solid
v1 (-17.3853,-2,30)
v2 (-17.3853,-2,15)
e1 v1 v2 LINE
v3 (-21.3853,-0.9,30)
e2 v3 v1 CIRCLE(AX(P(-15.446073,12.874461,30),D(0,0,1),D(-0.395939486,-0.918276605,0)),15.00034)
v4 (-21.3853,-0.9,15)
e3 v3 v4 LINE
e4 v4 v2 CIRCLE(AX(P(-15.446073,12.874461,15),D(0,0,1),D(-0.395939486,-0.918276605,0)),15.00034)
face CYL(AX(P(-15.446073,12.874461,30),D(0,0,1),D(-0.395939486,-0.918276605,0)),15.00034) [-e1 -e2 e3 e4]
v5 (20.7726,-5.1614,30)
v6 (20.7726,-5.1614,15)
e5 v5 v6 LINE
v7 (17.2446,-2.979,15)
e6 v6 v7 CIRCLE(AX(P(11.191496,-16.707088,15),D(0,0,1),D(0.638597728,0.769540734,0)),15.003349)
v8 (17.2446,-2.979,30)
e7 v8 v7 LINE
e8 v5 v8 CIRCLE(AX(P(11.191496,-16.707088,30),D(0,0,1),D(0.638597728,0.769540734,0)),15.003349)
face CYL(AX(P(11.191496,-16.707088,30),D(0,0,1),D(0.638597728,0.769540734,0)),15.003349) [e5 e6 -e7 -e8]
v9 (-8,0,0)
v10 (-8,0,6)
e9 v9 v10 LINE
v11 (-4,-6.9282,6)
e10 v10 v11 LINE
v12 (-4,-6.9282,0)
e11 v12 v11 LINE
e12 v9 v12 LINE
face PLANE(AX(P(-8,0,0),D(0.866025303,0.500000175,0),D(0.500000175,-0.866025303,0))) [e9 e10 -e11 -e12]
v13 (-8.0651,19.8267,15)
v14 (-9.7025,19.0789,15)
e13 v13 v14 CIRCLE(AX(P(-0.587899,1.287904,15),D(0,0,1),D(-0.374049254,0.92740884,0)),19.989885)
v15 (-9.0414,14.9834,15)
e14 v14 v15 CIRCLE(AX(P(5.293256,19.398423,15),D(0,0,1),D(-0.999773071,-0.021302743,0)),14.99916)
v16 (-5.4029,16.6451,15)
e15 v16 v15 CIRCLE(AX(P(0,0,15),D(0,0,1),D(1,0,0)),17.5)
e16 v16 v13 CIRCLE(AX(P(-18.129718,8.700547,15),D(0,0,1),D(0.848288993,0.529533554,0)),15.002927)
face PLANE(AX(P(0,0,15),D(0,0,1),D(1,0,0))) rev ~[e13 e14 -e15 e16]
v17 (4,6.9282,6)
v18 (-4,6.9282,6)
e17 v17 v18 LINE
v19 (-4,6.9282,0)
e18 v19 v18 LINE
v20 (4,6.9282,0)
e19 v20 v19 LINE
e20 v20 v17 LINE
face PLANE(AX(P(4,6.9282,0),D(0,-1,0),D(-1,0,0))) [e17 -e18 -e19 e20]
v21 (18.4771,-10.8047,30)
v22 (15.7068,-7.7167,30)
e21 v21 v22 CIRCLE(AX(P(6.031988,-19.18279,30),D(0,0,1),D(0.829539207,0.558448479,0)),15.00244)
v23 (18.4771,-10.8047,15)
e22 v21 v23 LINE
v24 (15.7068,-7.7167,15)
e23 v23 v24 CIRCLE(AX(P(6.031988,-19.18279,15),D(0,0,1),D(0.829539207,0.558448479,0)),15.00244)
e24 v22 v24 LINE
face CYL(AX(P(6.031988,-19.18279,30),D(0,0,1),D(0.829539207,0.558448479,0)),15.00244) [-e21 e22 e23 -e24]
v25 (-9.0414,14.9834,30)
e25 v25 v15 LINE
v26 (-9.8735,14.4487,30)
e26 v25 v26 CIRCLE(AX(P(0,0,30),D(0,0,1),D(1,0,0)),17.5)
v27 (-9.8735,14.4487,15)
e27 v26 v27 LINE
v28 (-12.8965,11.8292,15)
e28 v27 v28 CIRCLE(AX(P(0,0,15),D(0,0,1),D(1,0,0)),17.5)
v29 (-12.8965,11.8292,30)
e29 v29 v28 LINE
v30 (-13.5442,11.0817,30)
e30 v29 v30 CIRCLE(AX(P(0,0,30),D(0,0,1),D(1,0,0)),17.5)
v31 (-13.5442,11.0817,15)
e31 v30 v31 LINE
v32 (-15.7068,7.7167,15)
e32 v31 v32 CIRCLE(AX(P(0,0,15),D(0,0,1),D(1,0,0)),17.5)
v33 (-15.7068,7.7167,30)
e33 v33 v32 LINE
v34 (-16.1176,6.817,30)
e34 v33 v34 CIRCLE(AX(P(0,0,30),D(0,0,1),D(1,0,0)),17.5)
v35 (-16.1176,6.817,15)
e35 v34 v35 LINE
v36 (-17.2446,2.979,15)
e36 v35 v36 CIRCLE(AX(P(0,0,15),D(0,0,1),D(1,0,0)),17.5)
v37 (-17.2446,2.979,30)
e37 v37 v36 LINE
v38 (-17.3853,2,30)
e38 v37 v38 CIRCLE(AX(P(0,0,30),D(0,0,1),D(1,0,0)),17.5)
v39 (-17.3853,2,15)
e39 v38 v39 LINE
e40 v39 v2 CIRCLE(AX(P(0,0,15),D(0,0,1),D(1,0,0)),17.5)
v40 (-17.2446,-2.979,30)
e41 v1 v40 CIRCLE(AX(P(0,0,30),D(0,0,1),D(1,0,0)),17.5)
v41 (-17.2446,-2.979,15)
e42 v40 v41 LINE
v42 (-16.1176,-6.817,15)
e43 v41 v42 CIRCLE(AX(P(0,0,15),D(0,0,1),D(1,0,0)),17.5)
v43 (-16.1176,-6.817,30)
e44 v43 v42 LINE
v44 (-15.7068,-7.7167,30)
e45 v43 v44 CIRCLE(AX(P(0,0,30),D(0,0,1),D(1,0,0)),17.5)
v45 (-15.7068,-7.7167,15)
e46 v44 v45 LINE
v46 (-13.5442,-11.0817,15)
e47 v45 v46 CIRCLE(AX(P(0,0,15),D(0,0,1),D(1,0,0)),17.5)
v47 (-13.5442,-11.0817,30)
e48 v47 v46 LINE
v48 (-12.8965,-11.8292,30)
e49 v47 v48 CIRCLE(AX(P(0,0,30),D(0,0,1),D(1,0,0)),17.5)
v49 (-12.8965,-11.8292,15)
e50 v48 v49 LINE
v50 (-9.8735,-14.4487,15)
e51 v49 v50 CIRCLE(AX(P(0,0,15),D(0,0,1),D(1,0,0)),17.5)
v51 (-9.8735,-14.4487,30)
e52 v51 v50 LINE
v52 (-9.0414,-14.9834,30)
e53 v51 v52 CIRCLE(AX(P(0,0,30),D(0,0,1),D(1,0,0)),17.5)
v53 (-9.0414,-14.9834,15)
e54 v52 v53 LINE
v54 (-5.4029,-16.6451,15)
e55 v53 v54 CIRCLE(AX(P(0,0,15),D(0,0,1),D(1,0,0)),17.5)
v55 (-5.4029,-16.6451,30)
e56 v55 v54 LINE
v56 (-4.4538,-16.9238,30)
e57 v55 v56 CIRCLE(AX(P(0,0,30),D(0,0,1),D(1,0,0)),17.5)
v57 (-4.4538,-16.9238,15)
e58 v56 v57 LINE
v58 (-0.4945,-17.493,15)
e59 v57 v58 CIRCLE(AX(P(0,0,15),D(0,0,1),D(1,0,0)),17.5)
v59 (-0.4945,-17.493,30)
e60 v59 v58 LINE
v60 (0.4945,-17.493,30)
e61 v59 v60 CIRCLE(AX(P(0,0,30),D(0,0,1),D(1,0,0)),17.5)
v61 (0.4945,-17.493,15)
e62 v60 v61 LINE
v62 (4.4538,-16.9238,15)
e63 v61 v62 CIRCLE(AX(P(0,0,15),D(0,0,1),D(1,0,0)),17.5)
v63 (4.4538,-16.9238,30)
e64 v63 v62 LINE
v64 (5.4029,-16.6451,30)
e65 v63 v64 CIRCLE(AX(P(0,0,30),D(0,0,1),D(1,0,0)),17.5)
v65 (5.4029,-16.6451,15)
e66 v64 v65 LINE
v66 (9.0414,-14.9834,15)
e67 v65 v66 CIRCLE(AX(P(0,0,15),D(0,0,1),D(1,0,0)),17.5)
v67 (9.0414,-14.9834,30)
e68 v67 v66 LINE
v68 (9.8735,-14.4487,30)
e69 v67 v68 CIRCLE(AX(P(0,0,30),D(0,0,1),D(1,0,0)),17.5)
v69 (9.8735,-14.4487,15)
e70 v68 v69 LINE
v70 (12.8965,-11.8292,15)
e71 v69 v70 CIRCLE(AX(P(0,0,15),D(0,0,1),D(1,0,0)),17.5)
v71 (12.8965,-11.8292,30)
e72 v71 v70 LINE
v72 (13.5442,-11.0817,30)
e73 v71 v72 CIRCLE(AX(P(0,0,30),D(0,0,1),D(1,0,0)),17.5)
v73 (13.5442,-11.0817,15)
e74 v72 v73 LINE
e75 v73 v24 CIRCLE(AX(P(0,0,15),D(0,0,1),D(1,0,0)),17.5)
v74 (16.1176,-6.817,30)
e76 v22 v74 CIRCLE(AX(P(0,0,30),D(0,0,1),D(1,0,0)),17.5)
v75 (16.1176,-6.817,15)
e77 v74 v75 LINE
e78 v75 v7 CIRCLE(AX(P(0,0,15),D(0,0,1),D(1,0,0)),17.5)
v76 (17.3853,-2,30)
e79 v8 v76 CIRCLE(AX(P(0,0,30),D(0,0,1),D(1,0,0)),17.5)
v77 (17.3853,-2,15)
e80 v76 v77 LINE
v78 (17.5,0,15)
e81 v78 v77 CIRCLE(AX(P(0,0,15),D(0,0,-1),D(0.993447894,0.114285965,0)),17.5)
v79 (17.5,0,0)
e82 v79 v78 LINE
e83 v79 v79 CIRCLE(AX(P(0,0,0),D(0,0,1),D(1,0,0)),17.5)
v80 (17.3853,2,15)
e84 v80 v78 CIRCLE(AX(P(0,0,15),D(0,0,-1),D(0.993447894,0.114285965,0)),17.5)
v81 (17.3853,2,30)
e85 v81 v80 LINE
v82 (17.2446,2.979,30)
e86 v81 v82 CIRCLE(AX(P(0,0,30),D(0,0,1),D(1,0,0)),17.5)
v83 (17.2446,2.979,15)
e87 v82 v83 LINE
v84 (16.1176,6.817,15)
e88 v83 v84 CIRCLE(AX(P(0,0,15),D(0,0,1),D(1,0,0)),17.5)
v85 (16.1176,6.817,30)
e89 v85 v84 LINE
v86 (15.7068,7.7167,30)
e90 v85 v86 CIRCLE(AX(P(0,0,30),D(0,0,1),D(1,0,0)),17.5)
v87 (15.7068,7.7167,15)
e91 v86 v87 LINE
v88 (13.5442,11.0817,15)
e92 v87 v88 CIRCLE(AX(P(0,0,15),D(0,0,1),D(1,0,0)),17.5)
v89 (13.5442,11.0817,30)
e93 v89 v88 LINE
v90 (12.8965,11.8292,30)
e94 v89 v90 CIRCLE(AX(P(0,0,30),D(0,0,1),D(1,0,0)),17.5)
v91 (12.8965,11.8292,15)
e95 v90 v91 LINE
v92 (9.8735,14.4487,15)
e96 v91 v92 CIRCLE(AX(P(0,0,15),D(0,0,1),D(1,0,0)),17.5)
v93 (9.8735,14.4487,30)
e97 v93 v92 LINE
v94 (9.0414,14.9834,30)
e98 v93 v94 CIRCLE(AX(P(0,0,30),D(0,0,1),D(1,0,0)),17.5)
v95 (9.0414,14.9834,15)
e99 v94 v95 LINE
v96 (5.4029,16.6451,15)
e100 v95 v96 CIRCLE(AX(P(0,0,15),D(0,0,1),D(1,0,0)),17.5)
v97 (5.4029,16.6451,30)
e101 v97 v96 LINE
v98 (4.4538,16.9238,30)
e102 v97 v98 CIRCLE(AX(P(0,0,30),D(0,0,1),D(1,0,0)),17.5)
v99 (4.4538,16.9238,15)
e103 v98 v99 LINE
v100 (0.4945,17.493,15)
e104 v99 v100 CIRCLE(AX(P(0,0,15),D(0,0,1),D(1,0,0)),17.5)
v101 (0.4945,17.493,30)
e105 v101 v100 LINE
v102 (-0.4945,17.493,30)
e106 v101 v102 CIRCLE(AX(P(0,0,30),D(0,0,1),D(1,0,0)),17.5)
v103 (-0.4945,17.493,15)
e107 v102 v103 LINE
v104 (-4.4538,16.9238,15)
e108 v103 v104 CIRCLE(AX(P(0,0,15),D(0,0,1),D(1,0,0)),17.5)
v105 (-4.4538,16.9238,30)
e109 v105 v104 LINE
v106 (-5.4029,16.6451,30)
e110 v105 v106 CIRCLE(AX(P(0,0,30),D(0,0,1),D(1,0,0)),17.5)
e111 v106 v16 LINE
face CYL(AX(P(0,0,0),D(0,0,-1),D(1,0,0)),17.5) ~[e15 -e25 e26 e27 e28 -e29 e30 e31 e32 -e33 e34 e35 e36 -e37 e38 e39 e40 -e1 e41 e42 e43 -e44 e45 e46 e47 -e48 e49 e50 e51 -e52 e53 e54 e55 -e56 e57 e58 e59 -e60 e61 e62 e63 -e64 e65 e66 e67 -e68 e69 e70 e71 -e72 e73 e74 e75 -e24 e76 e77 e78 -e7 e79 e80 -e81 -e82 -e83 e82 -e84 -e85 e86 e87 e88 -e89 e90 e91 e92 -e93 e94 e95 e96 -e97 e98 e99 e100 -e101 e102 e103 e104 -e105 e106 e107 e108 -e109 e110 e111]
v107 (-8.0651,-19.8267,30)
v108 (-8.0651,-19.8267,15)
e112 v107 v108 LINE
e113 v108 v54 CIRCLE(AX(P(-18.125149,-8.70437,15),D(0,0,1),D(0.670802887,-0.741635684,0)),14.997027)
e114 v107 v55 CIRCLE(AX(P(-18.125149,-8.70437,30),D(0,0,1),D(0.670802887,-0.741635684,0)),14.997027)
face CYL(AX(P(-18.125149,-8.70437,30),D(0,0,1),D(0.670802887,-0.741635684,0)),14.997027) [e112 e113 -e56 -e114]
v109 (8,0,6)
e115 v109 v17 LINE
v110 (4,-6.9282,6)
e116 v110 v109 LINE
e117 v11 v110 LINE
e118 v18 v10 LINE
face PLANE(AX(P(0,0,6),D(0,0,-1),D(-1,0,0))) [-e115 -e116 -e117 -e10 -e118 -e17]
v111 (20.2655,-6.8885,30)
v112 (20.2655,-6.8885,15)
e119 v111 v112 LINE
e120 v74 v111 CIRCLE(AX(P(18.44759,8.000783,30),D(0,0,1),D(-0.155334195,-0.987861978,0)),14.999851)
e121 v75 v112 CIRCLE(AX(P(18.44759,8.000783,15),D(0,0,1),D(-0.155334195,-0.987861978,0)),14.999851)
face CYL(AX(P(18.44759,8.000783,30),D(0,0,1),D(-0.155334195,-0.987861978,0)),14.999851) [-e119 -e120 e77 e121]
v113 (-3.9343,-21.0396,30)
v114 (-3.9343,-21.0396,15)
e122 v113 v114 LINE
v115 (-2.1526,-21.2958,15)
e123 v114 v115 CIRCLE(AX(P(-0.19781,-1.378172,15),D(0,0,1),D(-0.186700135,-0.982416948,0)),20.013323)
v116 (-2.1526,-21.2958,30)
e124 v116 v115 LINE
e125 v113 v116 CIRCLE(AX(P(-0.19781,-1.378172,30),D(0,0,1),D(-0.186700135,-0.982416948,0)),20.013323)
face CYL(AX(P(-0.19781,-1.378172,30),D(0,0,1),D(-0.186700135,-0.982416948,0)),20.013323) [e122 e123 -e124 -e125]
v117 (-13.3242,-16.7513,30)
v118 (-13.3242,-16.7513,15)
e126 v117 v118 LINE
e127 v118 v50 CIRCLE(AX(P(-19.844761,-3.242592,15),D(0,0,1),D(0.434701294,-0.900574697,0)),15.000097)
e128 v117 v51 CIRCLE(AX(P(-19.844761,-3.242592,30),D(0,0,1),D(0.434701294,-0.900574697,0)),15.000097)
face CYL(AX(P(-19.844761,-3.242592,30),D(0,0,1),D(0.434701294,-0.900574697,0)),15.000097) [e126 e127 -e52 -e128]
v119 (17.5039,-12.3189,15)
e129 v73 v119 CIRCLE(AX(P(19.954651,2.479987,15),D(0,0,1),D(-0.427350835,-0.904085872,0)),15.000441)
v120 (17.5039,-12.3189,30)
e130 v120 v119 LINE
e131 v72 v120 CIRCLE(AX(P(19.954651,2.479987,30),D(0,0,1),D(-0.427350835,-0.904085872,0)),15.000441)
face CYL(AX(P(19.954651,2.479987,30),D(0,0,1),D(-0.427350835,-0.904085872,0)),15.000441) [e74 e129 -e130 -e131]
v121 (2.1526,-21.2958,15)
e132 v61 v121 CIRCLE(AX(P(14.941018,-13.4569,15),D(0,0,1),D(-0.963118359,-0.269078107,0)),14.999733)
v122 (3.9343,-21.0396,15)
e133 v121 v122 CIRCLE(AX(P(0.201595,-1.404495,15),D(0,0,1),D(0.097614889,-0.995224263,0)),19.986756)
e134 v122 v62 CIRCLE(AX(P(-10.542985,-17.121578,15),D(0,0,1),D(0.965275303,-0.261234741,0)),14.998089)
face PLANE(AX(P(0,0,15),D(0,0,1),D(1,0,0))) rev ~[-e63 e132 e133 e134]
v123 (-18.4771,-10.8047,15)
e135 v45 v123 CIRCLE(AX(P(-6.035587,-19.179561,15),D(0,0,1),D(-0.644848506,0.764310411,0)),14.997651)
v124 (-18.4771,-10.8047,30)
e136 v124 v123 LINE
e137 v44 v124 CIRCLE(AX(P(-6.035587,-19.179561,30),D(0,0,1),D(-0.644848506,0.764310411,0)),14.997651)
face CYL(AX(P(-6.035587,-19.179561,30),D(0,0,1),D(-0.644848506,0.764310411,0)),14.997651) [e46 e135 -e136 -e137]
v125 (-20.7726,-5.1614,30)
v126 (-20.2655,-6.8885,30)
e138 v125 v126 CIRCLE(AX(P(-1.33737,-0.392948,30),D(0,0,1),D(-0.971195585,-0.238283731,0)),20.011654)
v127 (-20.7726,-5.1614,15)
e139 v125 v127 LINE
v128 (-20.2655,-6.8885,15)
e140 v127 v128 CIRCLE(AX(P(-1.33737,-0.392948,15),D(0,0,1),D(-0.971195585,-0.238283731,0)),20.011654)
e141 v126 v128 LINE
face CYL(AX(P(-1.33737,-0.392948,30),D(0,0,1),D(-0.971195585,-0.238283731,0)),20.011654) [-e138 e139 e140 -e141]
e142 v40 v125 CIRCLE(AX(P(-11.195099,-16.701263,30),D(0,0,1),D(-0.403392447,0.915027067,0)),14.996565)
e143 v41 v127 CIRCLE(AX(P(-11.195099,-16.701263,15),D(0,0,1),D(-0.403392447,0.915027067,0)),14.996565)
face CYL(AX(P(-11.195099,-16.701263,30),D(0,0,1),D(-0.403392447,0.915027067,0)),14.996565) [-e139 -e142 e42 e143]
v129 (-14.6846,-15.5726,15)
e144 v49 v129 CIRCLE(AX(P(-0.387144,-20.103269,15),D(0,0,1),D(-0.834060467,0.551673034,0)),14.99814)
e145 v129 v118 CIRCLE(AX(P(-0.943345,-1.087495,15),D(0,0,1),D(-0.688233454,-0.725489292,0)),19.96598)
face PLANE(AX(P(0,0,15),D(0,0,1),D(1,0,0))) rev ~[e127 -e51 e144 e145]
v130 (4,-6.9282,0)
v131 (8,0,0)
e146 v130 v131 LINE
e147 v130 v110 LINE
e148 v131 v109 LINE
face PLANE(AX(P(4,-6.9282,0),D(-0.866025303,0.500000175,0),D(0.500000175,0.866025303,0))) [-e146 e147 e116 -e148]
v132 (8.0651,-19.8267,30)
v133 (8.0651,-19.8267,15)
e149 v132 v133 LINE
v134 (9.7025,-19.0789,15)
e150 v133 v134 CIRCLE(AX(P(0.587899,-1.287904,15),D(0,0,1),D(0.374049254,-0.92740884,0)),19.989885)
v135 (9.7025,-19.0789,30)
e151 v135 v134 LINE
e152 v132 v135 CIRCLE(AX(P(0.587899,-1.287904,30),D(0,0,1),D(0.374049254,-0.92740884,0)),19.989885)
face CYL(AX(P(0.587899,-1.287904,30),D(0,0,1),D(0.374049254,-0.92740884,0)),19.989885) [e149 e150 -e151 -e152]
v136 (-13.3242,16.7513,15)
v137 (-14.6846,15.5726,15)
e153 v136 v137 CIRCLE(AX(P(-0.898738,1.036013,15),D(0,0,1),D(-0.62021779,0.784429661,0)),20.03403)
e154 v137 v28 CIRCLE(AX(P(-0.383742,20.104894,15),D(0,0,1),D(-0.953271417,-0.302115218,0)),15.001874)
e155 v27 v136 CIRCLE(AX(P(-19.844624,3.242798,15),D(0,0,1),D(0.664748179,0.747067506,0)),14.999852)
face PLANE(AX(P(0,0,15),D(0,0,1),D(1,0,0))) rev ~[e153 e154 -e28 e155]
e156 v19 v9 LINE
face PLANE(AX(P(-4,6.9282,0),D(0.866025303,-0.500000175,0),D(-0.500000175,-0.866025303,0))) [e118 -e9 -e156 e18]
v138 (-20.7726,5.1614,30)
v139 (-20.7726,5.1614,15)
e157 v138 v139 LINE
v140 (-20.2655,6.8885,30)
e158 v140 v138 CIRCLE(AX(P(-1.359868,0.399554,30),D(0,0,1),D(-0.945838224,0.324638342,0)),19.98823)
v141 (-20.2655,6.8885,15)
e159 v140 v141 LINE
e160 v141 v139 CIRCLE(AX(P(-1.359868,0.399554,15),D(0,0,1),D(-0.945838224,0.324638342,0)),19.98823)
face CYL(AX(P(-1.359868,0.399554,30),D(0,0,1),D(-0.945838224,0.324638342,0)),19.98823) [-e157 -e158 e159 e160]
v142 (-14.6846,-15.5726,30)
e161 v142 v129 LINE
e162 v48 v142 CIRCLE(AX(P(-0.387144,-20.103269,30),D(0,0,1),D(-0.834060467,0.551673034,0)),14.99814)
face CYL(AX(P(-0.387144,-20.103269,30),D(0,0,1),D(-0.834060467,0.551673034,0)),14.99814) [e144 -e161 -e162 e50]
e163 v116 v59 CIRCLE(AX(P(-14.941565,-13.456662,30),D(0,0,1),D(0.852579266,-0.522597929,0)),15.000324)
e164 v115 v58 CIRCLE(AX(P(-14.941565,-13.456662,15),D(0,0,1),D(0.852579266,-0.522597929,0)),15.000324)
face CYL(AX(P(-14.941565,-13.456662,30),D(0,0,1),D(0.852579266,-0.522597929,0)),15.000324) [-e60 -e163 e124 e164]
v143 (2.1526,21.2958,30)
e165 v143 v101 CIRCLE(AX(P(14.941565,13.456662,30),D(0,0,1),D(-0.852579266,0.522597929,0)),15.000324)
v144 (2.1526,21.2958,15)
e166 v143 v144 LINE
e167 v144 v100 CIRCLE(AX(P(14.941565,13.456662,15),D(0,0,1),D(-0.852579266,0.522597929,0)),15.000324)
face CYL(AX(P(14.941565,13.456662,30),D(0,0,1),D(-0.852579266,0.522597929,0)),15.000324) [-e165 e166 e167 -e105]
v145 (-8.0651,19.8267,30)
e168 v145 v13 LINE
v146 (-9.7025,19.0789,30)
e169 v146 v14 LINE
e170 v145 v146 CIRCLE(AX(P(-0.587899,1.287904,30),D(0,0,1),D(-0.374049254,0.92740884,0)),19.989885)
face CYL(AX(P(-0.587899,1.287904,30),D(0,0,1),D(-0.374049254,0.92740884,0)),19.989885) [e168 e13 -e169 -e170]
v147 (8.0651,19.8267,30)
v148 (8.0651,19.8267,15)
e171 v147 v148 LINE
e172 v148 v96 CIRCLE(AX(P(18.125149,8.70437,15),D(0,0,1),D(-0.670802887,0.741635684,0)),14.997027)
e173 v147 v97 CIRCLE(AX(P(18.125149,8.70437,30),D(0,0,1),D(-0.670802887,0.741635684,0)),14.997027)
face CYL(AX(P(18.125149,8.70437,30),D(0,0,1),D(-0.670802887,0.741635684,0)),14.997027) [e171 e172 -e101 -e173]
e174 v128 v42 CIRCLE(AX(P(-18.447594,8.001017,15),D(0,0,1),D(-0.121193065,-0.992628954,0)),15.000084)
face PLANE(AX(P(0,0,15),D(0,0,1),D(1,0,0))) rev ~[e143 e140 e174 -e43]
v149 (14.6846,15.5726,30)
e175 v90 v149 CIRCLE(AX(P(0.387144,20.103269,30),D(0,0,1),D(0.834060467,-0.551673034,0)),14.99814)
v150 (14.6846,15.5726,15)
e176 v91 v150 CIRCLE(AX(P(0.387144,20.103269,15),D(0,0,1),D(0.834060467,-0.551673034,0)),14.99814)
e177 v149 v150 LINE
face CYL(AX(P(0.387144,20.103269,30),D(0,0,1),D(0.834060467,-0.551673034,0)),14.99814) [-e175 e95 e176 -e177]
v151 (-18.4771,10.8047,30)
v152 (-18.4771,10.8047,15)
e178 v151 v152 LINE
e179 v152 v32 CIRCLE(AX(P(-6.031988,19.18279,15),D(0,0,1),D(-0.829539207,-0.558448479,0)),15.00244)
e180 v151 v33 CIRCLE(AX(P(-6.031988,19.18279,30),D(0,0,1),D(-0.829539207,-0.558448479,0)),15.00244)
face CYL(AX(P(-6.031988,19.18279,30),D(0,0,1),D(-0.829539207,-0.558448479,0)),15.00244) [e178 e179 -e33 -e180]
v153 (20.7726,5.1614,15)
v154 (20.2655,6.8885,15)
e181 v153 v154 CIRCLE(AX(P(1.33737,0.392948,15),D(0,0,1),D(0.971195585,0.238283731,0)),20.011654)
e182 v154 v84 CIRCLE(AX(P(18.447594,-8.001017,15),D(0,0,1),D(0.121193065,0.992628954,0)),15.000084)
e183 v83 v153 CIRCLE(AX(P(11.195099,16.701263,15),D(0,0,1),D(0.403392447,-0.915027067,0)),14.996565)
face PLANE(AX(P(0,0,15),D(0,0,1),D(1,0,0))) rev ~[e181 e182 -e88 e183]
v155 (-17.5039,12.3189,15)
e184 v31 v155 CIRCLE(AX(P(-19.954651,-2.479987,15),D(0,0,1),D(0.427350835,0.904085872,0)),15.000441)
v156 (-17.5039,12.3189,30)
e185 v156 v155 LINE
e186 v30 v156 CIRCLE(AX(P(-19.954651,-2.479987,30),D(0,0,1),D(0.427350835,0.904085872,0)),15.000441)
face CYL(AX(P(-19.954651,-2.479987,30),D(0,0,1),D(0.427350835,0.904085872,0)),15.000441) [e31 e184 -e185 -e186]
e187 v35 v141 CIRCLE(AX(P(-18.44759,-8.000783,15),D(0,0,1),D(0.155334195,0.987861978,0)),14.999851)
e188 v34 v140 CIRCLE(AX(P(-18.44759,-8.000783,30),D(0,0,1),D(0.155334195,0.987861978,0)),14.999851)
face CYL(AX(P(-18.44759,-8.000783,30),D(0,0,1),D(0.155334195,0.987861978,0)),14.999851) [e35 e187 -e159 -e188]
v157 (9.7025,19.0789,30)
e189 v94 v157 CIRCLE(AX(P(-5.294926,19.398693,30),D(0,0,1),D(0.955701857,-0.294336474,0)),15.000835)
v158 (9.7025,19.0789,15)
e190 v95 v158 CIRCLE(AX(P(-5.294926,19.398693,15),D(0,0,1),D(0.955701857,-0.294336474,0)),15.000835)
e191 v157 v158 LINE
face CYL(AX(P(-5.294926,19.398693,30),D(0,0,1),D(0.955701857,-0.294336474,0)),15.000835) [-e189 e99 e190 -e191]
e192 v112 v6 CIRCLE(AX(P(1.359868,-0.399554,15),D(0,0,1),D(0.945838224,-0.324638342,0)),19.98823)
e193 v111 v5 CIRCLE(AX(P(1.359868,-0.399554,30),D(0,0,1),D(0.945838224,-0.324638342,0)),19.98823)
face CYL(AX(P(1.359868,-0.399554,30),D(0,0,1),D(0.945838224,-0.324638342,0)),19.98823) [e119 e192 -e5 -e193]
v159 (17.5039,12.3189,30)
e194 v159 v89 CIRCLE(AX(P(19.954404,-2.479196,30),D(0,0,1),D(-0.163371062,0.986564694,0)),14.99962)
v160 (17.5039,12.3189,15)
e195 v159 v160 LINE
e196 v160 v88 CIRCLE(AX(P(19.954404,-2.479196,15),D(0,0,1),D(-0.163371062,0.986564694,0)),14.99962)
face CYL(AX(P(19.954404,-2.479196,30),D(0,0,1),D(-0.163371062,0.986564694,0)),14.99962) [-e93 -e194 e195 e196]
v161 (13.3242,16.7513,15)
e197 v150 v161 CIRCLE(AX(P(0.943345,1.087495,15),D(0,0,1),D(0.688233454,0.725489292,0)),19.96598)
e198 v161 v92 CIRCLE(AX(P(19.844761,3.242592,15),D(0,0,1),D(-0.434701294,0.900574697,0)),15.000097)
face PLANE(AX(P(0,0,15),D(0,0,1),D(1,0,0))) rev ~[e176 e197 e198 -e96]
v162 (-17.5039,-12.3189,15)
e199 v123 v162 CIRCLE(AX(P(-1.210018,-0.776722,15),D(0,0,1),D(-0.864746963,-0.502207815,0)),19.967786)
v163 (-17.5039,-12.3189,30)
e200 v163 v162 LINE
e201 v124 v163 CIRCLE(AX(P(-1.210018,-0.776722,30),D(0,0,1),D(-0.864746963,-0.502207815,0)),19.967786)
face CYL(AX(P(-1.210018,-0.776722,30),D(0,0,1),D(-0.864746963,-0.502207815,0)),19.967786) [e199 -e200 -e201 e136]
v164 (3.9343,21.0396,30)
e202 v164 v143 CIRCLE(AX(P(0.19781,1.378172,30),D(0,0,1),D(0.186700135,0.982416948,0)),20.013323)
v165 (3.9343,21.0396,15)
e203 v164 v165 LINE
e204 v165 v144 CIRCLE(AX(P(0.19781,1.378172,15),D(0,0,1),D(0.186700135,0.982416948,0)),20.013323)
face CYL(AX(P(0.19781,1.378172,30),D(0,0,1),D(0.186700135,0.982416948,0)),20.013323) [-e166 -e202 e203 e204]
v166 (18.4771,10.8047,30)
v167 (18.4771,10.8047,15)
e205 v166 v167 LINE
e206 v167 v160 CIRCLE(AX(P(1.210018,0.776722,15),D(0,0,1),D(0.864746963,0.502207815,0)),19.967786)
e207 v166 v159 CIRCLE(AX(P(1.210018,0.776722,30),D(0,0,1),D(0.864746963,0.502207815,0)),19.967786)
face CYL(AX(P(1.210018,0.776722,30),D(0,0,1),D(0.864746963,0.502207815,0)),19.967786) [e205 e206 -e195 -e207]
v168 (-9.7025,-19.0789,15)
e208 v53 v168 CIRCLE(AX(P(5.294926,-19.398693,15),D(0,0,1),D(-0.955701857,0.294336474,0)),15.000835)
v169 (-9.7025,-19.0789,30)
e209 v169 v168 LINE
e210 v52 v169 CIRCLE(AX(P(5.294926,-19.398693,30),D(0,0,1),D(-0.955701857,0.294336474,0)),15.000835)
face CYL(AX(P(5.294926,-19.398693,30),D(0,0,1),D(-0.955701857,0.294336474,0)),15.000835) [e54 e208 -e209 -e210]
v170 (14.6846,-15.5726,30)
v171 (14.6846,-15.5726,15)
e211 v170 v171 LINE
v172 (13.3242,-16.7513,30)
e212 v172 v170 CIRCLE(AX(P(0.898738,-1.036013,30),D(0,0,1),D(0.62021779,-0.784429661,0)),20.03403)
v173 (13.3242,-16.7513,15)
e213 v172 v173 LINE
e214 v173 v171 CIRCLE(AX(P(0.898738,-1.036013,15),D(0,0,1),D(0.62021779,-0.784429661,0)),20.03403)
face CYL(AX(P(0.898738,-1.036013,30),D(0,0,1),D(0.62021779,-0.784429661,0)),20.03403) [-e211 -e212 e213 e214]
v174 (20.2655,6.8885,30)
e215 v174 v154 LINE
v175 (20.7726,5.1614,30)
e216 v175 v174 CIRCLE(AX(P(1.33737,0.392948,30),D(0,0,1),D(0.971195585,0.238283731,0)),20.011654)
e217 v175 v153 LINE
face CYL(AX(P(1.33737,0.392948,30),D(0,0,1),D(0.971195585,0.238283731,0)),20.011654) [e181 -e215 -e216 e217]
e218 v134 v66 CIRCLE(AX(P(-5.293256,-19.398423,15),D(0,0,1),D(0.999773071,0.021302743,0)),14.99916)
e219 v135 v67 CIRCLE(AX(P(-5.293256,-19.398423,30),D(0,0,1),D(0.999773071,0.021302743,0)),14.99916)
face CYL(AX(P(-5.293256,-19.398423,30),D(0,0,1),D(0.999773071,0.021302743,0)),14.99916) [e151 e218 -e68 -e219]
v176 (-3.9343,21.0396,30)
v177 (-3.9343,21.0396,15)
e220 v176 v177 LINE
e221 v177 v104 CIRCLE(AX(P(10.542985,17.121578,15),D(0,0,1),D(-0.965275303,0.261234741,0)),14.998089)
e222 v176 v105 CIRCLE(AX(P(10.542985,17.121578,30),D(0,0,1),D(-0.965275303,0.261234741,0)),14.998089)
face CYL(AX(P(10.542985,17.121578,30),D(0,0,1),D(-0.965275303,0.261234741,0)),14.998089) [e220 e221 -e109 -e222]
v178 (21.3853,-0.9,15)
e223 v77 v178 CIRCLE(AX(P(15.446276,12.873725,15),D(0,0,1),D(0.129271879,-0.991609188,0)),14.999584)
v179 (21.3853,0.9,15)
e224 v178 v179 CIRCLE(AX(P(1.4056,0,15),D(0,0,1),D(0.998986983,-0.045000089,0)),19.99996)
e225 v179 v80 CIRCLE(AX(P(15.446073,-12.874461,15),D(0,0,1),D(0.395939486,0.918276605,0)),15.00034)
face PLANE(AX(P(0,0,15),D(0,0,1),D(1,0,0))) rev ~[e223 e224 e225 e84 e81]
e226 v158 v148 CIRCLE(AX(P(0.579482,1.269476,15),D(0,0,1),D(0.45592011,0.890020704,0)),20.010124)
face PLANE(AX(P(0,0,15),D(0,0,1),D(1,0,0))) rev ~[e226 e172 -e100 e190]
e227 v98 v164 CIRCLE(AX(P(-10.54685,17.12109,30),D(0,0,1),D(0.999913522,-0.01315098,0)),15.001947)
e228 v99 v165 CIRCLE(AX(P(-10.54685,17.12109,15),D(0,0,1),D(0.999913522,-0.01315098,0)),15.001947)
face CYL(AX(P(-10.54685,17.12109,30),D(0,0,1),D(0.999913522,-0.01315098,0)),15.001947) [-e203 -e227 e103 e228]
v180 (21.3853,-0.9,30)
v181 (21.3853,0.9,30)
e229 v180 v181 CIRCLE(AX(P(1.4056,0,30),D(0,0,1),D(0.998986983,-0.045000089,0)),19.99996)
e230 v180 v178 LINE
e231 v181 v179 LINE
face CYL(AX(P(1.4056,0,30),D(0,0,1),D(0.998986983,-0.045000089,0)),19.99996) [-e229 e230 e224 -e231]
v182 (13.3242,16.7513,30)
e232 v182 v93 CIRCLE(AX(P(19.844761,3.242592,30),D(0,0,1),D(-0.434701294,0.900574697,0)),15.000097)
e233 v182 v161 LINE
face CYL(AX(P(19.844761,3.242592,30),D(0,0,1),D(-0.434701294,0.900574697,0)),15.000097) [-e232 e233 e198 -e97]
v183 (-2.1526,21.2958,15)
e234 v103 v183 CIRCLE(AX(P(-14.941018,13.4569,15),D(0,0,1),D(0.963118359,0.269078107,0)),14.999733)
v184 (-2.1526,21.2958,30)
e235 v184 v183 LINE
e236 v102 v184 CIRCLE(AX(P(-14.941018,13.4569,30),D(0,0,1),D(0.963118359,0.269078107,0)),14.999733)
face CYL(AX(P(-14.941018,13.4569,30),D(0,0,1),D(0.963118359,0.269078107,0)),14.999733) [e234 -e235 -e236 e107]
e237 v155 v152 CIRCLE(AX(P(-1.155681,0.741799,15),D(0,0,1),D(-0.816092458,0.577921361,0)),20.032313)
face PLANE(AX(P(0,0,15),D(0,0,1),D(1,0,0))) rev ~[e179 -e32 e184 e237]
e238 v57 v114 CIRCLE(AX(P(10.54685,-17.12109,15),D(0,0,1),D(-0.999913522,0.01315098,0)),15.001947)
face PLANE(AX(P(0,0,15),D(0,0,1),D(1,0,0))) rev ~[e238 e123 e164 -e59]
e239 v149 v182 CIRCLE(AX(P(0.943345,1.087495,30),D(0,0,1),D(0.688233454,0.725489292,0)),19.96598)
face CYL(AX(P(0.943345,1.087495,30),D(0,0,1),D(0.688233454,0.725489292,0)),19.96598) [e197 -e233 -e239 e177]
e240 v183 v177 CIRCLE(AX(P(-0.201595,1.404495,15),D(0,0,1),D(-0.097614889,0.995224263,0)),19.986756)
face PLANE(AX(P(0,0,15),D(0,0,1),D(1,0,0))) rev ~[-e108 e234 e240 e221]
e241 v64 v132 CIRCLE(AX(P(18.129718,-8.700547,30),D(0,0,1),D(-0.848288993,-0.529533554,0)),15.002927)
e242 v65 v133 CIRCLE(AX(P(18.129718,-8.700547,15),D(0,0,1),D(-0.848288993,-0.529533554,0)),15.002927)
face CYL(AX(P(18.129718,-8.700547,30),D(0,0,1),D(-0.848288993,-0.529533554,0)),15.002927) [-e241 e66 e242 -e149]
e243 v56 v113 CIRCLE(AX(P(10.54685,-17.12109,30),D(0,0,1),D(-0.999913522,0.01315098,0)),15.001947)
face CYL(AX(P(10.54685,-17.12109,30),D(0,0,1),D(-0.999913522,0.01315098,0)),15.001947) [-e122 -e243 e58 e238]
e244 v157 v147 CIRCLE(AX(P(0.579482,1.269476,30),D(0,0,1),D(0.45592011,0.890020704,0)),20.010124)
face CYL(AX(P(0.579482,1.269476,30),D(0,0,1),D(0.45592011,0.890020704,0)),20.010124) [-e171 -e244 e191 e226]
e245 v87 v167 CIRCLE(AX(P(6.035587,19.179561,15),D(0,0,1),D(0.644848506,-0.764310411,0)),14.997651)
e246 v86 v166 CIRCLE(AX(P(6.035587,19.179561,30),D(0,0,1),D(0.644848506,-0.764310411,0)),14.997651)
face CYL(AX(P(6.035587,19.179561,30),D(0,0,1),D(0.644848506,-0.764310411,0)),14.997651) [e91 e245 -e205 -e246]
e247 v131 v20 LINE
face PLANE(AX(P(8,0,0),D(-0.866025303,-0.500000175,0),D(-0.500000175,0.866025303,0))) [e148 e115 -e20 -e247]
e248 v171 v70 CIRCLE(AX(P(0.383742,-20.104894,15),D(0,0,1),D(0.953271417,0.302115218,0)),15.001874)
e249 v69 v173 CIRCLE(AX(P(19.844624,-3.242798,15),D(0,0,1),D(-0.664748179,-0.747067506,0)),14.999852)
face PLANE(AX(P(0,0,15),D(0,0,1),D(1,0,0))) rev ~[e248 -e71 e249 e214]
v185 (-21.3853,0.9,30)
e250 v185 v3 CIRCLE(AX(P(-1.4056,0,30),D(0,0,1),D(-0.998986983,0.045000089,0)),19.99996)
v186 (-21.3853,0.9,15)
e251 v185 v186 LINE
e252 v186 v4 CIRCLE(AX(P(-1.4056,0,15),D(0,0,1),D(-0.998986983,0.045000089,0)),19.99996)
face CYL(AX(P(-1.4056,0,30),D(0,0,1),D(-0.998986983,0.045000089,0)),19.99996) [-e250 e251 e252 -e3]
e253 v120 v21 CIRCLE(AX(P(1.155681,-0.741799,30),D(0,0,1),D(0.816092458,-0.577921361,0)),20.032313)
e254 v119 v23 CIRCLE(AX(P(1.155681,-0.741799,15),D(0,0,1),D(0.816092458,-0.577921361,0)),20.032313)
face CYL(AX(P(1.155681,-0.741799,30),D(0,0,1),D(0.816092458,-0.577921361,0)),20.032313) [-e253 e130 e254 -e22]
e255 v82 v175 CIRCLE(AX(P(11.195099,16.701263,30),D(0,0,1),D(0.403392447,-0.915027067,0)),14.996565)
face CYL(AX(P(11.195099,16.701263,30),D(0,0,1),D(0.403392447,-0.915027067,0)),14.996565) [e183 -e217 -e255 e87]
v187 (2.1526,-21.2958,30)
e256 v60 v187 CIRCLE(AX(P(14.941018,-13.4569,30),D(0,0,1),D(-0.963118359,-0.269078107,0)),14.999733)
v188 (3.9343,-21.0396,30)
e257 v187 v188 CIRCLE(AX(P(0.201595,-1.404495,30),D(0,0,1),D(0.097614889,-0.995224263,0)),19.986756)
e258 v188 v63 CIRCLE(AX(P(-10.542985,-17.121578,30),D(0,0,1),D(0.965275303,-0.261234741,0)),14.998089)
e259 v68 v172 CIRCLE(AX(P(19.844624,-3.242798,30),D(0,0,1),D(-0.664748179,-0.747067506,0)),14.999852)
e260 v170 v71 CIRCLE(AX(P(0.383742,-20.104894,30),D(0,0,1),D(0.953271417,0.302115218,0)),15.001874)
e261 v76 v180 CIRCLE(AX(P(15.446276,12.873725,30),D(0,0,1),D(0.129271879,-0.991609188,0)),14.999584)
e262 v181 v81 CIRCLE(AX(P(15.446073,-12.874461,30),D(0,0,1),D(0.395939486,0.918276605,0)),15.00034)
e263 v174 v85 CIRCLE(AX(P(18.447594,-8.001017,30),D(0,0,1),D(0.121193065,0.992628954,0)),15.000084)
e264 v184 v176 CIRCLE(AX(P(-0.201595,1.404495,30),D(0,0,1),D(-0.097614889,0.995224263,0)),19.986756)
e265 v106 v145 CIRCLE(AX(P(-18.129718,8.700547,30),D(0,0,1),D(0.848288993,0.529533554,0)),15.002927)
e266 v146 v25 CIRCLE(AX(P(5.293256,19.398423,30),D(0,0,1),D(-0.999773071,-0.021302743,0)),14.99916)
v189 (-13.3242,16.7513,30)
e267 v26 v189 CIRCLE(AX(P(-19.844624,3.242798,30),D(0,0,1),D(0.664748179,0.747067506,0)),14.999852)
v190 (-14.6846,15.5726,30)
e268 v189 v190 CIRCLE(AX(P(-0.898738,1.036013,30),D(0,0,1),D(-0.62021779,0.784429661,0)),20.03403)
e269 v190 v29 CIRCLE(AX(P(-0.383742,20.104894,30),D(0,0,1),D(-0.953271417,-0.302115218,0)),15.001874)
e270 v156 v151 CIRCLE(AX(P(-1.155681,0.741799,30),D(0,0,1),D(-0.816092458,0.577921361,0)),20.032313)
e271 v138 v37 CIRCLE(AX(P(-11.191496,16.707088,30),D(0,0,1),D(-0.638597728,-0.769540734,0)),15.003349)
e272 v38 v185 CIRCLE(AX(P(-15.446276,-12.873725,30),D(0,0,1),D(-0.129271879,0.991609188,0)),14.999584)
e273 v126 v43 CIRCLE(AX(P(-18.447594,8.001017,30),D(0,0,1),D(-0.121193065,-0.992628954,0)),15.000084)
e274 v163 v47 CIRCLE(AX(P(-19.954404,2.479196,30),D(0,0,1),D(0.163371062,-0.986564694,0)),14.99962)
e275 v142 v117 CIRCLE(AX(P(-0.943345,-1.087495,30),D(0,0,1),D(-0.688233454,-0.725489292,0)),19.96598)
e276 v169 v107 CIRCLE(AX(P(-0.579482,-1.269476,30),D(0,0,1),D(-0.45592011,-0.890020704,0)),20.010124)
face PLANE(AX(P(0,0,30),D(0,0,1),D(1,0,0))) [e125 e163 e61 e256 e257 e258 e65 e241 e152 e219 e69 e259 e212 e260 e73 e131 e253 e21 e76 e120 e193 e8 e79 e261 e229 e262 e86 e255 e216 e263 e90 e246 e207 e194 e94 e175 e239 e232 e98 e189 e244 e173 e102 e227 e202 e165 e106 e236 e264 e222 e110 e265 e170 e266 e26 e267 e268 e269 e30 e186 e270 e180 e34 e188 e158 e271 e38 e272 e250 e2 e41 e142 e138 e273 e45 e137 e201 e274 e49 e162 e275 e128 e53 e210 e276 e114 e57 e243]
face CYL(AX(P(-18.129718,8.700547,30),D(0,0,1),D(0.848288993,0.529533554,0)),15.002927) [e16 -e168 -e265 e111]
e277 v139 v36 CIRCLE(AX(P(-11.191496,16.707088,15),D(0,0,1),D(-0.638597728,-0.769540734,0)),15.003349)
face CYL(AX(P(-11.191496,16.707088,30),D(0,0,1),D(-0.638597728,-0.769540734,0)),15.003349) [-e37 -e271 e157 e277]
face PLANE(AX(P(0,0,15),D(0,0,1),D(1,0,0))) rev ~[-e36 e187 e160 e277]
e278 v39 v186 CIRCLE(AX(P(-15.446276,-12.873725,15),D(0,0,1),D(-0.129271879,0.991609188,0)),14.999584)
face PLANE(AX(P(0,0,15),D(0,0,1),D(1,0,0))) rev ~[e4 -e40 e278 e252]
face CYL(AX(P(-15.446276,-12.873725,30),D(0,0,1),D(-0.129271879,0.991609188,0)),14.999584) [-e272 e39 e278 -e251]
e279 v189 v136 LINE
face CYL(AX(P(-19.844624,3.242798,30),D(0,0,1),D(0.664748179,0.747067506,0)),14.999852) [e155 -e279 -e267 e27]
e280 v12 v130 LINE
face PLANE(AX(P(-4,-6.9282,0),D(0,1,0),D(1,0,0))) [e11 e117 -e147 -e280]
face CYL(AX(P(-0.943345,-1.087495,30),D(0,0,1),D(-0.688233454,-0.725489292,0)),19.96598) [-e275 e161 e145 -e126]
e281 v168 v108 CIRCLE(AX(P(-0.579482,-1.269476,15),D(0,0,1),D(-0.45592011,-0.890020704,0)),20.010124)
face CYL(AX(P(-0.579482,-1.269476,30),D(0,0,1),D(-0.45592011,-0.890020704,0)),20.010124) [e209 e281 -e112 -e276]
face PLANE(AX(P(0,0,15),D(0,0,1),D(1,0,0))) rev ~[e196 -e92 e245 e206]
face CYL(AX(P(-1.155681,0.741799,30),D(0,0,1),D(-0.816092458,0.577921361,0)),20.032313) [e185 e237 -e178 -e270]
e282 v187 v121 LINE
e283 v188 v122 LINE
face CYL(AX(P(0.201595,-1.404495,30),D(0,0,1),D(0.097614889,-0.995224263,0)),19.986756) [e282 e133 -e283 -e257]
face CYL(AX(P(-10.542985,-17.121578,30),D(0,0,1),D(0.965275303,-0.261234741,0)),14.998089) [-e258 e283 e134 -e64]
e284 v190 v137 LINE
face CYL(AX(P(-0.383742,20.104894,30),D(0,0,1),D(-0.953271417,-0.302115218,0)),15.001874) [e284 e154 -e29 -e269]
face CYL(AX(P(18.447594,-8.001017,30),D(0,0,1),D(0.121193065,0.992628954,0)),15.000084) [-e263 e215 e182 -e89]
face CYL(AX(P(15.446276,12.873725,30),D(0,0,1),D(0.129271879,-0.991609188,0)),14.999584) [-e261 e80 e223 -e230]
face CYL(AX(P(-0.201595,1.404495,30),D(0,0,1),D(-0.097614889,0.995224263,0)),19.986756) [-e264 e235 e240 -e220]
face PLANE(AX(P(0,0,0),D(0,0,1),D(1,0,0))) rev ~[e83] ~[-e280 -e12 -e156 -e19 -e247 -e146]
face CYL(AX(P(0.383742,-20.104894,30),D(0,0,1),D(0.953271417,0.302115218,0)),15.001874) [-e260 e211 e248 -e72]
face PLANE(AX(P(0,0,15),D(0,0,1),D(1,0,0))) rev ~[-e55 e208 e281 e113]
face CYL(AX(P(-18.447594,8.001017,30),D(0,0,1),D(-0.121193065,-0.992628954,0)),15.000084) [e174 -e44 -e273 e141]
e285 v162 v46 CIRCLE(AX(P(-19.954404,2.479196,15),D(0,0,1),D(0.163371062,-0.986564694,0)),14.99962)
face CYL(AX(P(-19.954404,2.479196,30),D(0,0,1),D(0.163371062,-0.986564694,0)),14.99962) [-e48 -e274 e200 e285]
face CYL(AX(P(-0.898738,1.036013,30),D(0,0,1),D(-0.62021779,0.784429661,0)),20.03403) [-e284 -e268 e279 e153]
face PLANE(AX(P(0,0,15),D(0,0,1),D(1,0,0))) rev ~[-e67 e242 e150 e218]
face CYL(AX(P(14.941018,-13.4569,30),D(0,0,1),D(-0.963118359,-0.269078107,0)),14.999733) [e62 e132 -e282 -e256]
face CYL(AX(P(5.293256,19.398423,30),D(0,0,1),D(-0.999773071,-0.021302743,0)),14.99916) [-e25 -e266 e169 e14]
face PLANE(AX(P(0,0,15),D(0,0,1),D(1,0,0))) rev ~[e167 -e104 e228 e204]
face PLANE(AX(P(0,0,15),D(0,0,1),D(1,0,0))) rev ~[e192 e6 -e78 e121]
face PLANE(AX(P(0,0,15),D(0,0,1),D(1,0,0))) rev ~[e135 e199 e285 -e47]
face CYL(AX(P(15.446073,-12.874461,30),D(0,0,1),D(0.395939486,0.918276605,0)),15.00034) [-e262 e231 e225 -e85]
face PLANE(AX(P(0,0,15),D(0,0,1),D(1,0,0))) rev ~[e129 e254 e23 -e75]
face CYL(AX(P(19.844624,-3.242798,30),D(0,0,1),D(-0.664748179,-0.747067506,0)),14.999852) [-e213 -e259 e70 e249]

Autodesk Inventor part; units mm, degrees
ref_plane "YZ Plane" through (0, 0, 0) normal (1, 0, 0) x (0, 1, 0)
ref_plane "XZ Plane" through (0, 0, 0) normal (0, 1, 0) x (-1, 0, 0)
ref_plane "XY Plane" through (0, 0, 0) normal (0, 0, 1) x (1, 0, 0)
sketch "Sketch1" plane through (0, 0, 0) normal (0, 0, 1) x (1, 0, 0)
  circle A0 centre (0, 0) radius 17.5
  dimension "d0" = 35
extrude "Extrusion1" add sketch "Sketch1" along normal blind 30
sketch "Sketch7" plane through (0, 0, 30) normal (0, 0, 1) x (1, 0, 0)
  circle A0 centre (0, 0) radius 17.5 construction
  line L0 (0, 0) -> (15, 0) construction
  circle A1 centre (0, 0) radius 17.5 projected
  arc A2 (21.3853, 0.9) -> (17.3853, 2) centre (15.4462, -12.8741) ccw
  arc A3 (21.3853, -0.9) -> (21.3853, 0.9) centre (1.4056, 0) ccw
  arc A4 (17.3853, -2) -> (21.3853, -0.9) centre (15.4462, 12.8741) ccw
  arc A5 (17.3853, -2) -> (17.3853, 2) centre (0, 0) ccw
  arc A6 (20.2655, 6.8885) -> (16.1176, 6.817) centre (18.4476, -8.0009) ccw
  arc A7 (17.2446, 2.979) -> (16.1176, 6.817) centre (0, 0) ccw
  arc A8 (17.2446, 2.979) -> (20.7726, 5.1614) centre (11.1935, 16.7043) ccw
  arc A9 (20.7726, 5.1614) -> (20.2655, 6.8885) centre (1.3487, 0.396) ccw
  arc A10 (17.5039, 12.3189) -> (13.5442, 11.0817) centre (19.9545, -2.4796) ccw
  arc A11 (15.7068, 7.7167) -> (13.5442, 11.0817) centre (0, 0) ccw
  arc A12 (15.7068, 7.7167) -> (18.4771, 10.8047) centre (6.0339, 19.1813) ccw
  arc A13 (18.4771, 10.8047) -> (17.5039, 12.3189) centre (1.1825, 0.7599) ccw
  arc A14 (13.3242, 16.7513) -> (9.8735, 14.4487) centre (19.8447, 3.2427) ccw
  arc A15 (12.8965, 11.8292) -> (9.8735, 14.4487) centre (0, 0) ccw
  arc A16 (12.8965, 11.8292) -> (14.6846, 15.5726) centre (0.3855, 20.1042) ccw
  arc A17 (14.6846, 15.5726) -> (13.3242, 16.7513) centre (0.9205, 1.0623) ccw
  arc A18 (8.0651, 19.8267) -> (5.4029, 16.6451) centre (18.1273, 8.7023) ccw
  arc A19 (9.0414, 14.9834) -> (5.4029, 16.6451) centre (0, 0) ccw
  arc A20 (9.0414, 14.9834) -> (9.7025, 19.0789) centre (-5.2941, 19.3985) ccw
  arc A21 (9.7025, 19.0789) -> (8.0651, 19.8267) centre (0.5839, 1.2786) ccw
  arc A22 (2.1526, 21.2958) -> (0.4945, 17.493) centre (14.9413, 13.4568) ccw
  arc A23 (4.4538, 16.9238) -> (0.4945, 17.493) centre (0, 0) ccw
  arc A24 (4.4538, 16.9238) -> (3.9343, 21.0396) centre (-10.5449, 17.1212) ccw
  arc A25 (3.9343, 21.0396) -> (2.1526, 21.2958) centre (0.2, 1.3913) ccw
  arc A26 (-3.9343, 21.0396) -> (-4.4538, 16.9238) centre (10.5449, 17.1212) ccw
  arc A27 (-0.4945, 17.493) -> (-4.4538, 16.9238) centre (0, 0) ccw
  arc A28 (-0.4945, 17.493) -> (-2.1526, 21.2958) centre (-14.9413, 13.4568) ccw
  arc A29 (-2.1526, 21.2958) -> (-3.9343, 21.0396) centre (-0.2, 1.3913) ccw
  arc A30 (-9.7025, 19.0789) -> (-9.0414, 14.9834) centre (5.2941, 19.3985) ccw
  arc A31 (-5.4029, 16.6451) -> (-9.0414, 14.9834) centre (0, 0) ccw
  arc A32 (-5.4029, 16.6451) -> (-8.0651, 19.8267) centre (-18.1273, 8.7023) ccw
  arc A33 (-8.0651, 19.8267) -> (-9.7025, 19.0789) centre (-0.5839, 1.2786) ccw
  arc A34 (-14.6846, 15.5726) -> (-12.8965, 11.8292) centre (-0.3855, 20.1042) ccw
  arc A35 (-9.8735, 14.4487) -> (-12.8965, 11.8292) centre (0, 0) ccw
  arc A36 (-9.8735, 14.4487) -> (-13.3242, 16.7513) centre (-19.8447, 3.2427) ccw
  arc A37 (-13.3242, 16.7513) -> (-14.6846, 15.5726) centre (-0.9205, 1.0623) ccw
  arc A38 (-18.4771, 10.8047) -> (-15.7068, 7.7167) centre (-6.0339, 19.1813) ccw
  arc A39 (-13.5442, 11.0817) -> (-15.7068, 7.7167) centre (0, 0) ccw
  arc A40 (-13.5442, 11.0817) -> (-17.5039, 12.3189) centre (-19.9545, -2.4796) ccw
  arc A41 (-17.5039, 12.3189) -> (-18.4771, 10.8047) centre (-1.1825, 0.7599) ccw
  arc A42 (-20.7726, 5.1614) -> (-17.2446, 2.979) centre (-11.1935, 16.7043) ccw
  arc A43 (-16.1176, 6.817) -> (-17.2446, 2.979) centre (0, 0) ccw
  arc A44 (-16.1176, 6.817) -> (-20.2655, 6.8885) centre (-18.4476, -8.0009) ccw
  arc A45 (-20.2655, 6.8885) -> (-20.7726, 5.1614) centre (-1.3487, 0.396) ccw
  arc A46 (-21.3853, -0.9) -> (-17.3853, -2) centre (-15.4462, 12.8741) ccw
  arc A47 (-17.3853, 2) -> (-17.3853, -2) centre (0, 0) ccw
  arc A48 (-17.3853, 2) -> (-21.3853, 0.9) centre (-15.4462, -12.8741) ccw
  arc A49 (-21.3853, 0.9) -> (-21.3853, -0.9) centre (-1.4056, 0) ccw
  arc A50 (-20.2655, -6.8885) -> (-16.1176, -6.817) centre (-18.4476, 8.0009) ccw
  arc A51 (-17.2446, -2.979) -> (-16.1176, -6.817) centre (0, 0) ccw
  arc A52 (-17.2446, -2.979) -> (-20.7726, -5.1614) centre (-11.1935, -16.7043) ccw
  arc A53 (-20.7726, -5.1614) -> (-20.2655, -6.8885) centre (-1.3487, -0.396) ccw
  arc A54 (-17.5039, -12.3189) -> (-13.5442, -11.0817) centre (-19.9545, 2.4796) ccw
  arc A55 (-15.7068, -7.7167) -> (-13.5442, -11.0817) centre (0, 0) ccw
  arc A56 (-15.7068, -7.7167) -> (-18.4771, -10.8047) centre (-6.0339, -19.1813) ccw
  arc A57 (-18.4771, -10.8047) -> (-17.5039, -12.3189) centre (-1.1825, -0.7599) ccw
  arc A58 (-13.3242, -16.7513) -> (-9.8735, -14.4487) centre (-19.8447, -3.2427) ccw
  arc A59 (-12.8965, -11.8292) -> (-9.8735, -14.4487) centre (0, 0) ccw
  arc A60 (-12.8965, -11.8292) -> (-14.6846, -15.5726) centre (-0.3855, -20.1042) ccw
  arc A61 (-14.6846, -15.5726) -> (-13.3242, -16.7513) centre (-0.9205, -1.0623) ccw
  arc A62 (-8.0651, -19.8267) -> (-5.4029, -16.6451) centre (-18.1273, -8.7023) ccw
  arc A63 (-9.0414, -14.9834) -> (-5.4029, -16.6451) centre (0, 0) ccw
  arc A64 (-9.0414, -14.9834) -> (-9.7025, -19.0789) centre (5.2941, -19.3985) ccw
  arc A65 (-9.7025, -19.0789) -> (-8.0651, -19.8267) centre (-0.5839, -1.2786) ccw
  arc A66 (-2.1526, -21.2958) -> (-0.4945, -17.493) centre (-14.9413, -13.4568) ccw
  arc A67 (-4.4538, -16.9238) -> (-0.4945, -17.493) centre (0, 0) ccw
  arc A68 (-4.4538, -16.9238) -> (-3.9343, -21.0396) centre (10.5449, -17.1212) ccw
  arc A69 (-3.9343, -21.0396) -> (-2.1526, -21.2958) centre (-0.2, -1.3913) ccw
  arc A70 (3.9343, -21.0396) -> (4.4538, -16.9238) centre (-10.5449, -17.1212) ccw
  arc A71 (0.4945, -17.493) -> (4.4538, -16.9238) centre (0, 0) ccw
  arc A72 (0.4945, -17.493) -> (2.1526, -21.2958) centre (14.9413, -13.4568) ccw
  arc A73 (2.1526, -21.2958) -> (3.9343, -21.0396) centre (0.2, -1.3913) ccw
  arc A74 (9.7025, -19.0789) -> (9.0414, -14.9834) centre (-5.2941, -19.3985) ccw
  arc A75 (5.4029, -16.6451) -> (9.0414, -14.9834) centre (0, 0) ccw
  arc A76 (5.4029, -16.6451) -> (8.0651, -19.8267) centre (18.1273, -8.7023) ccw
  arc A77 (8.0651, -19.8267) -> (9.7025, -19.0789) centre (0.5839, -1.2786) ccw
  arc A78 (14.6846, -15.5726) -> (12.8965, -11.8292) centre (0.3855, -20.1042) ccw
  arc A79 (9.8735, -14.4487) -> (12.8965, -11.8292) centre (0, 0) ccw
  arc A80 (9.8735, -14.4487) -> (13.3242, -16.7513) centre (19.8447, -3.2427) ccw
  arc A81 (13.3242, -16.7513) -> (14.6846, -15.5726) centre (0.9205, -1.0623) ccw
  arc A82 (18.4771, -10.8047) -> (15.7068, -7.7167) centre (6.0339, -19.1813) ccw
  arc A83 (13.5442, -11.0817) -> (15.7068, -7.7167) centre (0, 0) ccw
  arc A84 (13.5442, -11.0817) -> (17.5039, -12.3189) centre (19.9545, 2.4796) ccw
  arc A85 (17.5039, -12.3189) -> (18.4771, -10.8047) centre (1.1825, -0.7599) ccw
  arc A86 (20.7726, -5.1614) -> (17.2446, -2.979) centre (11.1935, -16.7043) ccw
  arc A87 (16.1176, -6.817) -> (17.2446, -2.979) centre (0, 0) ccw
  arc A88 (16.1176, -6.817) -> (20.2655, -6.8885) centre (18.4476, 8.0009) ccw
  arc A89 (20.2655, -6.8885) -> (20.7726, -5.1614) centre (1.3487, -0.396) ccw
  point P0 (21.4056, 0)
  point P1 (20.5385, 6.0307)
  point P2 (18.0075, 11.5727)
  point P3 (14.0177, 16.1773)
  point P4 (8.8922, 19.4712)
  point P5 (3.0463, 21.1877)
  point P6 (-3.0463, 21.1877)
  point P7 (-8.8922, 19.4712)
  point P8 (-14.0177, 16.1773)
  point P9 (-18.0075, 11.5727)
  point P10 (-20.5385, 6.0307)
  point P11 (-21.4056, 0)
  point P12 (-20.5385, -6.0307)
  point P13 (-18.0075, -11.5727)
  point P14 (-14.0177, -16.1773)
  point P15 (-8.8922, -19.4712)
  point P16 (-3.0463, -21.1877)
  point P17 (3.0463, -21.1877)
  point P18 (8.8922, -19.4712)
  point P19 (14.0177, -16.1773)
  point P20 (18.0075, -11.5727)
  point P21 (20.5385, -6.0307)
  dimension "d19" = 15
  dimension "d20" = 15
  dimension "d21" = 20
  dimension "d22" = 1.8
  dimension "d23" = 2
  dimension "d24" = 4
  dimension "d27" = 360
extrude "Extrusion7" add sketch "Sketch7" against normal blind 15 contours A1 A2 A3 A4 | A1 A6 A9 A8 | A86 A89 A88 A1 | A1 A10 A13 A12 | A82 A85 A84 A1 | A1 A14 A17 A16 | A78 A81 A80 A1 | A1 A18 A21 A20 | A74 A77 A76 A1 | A1 A22 A25 A24 | A70 A73 A72 A1 | A1 A26 A29 A28 | A66 A69 A68 A1 | A1 A30 A33 A32 | A62 A65 A64 A1 | A1 A34 A37 A36 | A58 A61 A60 A1 | A1 A38 A41 A40 | A54 A57 A56 A1 | A1 A42 A45 A44 | A50 A53 A52 A1 | A1 A46 A49 A48
sketch "Sketch9" plane through (0, 0, 0) normal (0, 0, -1) x (-1, 0, 0)
  line L0 (-8, 0) -> (-4, 6.9282)
  line L1 (-4, 6.9282) -> (4, 6.9282)
  line L2 (4, 6.9282) -> (8, 0)
  line L3 (8, 0) -> (4, -6.9282)
  line L4 (4, -6.9282) -> (-4, -6.9282)
  line L5 (-4, -6.9282) -> (-8, 0)
  point P0 (0, 0)
  point P1 (0, 0)
  dimension "d33" = 16
extrude "Extrusion9" cut sketch "Sketch9" against normal blind 6
properties part number "Motor Coupler" material "ABS Plastic"
